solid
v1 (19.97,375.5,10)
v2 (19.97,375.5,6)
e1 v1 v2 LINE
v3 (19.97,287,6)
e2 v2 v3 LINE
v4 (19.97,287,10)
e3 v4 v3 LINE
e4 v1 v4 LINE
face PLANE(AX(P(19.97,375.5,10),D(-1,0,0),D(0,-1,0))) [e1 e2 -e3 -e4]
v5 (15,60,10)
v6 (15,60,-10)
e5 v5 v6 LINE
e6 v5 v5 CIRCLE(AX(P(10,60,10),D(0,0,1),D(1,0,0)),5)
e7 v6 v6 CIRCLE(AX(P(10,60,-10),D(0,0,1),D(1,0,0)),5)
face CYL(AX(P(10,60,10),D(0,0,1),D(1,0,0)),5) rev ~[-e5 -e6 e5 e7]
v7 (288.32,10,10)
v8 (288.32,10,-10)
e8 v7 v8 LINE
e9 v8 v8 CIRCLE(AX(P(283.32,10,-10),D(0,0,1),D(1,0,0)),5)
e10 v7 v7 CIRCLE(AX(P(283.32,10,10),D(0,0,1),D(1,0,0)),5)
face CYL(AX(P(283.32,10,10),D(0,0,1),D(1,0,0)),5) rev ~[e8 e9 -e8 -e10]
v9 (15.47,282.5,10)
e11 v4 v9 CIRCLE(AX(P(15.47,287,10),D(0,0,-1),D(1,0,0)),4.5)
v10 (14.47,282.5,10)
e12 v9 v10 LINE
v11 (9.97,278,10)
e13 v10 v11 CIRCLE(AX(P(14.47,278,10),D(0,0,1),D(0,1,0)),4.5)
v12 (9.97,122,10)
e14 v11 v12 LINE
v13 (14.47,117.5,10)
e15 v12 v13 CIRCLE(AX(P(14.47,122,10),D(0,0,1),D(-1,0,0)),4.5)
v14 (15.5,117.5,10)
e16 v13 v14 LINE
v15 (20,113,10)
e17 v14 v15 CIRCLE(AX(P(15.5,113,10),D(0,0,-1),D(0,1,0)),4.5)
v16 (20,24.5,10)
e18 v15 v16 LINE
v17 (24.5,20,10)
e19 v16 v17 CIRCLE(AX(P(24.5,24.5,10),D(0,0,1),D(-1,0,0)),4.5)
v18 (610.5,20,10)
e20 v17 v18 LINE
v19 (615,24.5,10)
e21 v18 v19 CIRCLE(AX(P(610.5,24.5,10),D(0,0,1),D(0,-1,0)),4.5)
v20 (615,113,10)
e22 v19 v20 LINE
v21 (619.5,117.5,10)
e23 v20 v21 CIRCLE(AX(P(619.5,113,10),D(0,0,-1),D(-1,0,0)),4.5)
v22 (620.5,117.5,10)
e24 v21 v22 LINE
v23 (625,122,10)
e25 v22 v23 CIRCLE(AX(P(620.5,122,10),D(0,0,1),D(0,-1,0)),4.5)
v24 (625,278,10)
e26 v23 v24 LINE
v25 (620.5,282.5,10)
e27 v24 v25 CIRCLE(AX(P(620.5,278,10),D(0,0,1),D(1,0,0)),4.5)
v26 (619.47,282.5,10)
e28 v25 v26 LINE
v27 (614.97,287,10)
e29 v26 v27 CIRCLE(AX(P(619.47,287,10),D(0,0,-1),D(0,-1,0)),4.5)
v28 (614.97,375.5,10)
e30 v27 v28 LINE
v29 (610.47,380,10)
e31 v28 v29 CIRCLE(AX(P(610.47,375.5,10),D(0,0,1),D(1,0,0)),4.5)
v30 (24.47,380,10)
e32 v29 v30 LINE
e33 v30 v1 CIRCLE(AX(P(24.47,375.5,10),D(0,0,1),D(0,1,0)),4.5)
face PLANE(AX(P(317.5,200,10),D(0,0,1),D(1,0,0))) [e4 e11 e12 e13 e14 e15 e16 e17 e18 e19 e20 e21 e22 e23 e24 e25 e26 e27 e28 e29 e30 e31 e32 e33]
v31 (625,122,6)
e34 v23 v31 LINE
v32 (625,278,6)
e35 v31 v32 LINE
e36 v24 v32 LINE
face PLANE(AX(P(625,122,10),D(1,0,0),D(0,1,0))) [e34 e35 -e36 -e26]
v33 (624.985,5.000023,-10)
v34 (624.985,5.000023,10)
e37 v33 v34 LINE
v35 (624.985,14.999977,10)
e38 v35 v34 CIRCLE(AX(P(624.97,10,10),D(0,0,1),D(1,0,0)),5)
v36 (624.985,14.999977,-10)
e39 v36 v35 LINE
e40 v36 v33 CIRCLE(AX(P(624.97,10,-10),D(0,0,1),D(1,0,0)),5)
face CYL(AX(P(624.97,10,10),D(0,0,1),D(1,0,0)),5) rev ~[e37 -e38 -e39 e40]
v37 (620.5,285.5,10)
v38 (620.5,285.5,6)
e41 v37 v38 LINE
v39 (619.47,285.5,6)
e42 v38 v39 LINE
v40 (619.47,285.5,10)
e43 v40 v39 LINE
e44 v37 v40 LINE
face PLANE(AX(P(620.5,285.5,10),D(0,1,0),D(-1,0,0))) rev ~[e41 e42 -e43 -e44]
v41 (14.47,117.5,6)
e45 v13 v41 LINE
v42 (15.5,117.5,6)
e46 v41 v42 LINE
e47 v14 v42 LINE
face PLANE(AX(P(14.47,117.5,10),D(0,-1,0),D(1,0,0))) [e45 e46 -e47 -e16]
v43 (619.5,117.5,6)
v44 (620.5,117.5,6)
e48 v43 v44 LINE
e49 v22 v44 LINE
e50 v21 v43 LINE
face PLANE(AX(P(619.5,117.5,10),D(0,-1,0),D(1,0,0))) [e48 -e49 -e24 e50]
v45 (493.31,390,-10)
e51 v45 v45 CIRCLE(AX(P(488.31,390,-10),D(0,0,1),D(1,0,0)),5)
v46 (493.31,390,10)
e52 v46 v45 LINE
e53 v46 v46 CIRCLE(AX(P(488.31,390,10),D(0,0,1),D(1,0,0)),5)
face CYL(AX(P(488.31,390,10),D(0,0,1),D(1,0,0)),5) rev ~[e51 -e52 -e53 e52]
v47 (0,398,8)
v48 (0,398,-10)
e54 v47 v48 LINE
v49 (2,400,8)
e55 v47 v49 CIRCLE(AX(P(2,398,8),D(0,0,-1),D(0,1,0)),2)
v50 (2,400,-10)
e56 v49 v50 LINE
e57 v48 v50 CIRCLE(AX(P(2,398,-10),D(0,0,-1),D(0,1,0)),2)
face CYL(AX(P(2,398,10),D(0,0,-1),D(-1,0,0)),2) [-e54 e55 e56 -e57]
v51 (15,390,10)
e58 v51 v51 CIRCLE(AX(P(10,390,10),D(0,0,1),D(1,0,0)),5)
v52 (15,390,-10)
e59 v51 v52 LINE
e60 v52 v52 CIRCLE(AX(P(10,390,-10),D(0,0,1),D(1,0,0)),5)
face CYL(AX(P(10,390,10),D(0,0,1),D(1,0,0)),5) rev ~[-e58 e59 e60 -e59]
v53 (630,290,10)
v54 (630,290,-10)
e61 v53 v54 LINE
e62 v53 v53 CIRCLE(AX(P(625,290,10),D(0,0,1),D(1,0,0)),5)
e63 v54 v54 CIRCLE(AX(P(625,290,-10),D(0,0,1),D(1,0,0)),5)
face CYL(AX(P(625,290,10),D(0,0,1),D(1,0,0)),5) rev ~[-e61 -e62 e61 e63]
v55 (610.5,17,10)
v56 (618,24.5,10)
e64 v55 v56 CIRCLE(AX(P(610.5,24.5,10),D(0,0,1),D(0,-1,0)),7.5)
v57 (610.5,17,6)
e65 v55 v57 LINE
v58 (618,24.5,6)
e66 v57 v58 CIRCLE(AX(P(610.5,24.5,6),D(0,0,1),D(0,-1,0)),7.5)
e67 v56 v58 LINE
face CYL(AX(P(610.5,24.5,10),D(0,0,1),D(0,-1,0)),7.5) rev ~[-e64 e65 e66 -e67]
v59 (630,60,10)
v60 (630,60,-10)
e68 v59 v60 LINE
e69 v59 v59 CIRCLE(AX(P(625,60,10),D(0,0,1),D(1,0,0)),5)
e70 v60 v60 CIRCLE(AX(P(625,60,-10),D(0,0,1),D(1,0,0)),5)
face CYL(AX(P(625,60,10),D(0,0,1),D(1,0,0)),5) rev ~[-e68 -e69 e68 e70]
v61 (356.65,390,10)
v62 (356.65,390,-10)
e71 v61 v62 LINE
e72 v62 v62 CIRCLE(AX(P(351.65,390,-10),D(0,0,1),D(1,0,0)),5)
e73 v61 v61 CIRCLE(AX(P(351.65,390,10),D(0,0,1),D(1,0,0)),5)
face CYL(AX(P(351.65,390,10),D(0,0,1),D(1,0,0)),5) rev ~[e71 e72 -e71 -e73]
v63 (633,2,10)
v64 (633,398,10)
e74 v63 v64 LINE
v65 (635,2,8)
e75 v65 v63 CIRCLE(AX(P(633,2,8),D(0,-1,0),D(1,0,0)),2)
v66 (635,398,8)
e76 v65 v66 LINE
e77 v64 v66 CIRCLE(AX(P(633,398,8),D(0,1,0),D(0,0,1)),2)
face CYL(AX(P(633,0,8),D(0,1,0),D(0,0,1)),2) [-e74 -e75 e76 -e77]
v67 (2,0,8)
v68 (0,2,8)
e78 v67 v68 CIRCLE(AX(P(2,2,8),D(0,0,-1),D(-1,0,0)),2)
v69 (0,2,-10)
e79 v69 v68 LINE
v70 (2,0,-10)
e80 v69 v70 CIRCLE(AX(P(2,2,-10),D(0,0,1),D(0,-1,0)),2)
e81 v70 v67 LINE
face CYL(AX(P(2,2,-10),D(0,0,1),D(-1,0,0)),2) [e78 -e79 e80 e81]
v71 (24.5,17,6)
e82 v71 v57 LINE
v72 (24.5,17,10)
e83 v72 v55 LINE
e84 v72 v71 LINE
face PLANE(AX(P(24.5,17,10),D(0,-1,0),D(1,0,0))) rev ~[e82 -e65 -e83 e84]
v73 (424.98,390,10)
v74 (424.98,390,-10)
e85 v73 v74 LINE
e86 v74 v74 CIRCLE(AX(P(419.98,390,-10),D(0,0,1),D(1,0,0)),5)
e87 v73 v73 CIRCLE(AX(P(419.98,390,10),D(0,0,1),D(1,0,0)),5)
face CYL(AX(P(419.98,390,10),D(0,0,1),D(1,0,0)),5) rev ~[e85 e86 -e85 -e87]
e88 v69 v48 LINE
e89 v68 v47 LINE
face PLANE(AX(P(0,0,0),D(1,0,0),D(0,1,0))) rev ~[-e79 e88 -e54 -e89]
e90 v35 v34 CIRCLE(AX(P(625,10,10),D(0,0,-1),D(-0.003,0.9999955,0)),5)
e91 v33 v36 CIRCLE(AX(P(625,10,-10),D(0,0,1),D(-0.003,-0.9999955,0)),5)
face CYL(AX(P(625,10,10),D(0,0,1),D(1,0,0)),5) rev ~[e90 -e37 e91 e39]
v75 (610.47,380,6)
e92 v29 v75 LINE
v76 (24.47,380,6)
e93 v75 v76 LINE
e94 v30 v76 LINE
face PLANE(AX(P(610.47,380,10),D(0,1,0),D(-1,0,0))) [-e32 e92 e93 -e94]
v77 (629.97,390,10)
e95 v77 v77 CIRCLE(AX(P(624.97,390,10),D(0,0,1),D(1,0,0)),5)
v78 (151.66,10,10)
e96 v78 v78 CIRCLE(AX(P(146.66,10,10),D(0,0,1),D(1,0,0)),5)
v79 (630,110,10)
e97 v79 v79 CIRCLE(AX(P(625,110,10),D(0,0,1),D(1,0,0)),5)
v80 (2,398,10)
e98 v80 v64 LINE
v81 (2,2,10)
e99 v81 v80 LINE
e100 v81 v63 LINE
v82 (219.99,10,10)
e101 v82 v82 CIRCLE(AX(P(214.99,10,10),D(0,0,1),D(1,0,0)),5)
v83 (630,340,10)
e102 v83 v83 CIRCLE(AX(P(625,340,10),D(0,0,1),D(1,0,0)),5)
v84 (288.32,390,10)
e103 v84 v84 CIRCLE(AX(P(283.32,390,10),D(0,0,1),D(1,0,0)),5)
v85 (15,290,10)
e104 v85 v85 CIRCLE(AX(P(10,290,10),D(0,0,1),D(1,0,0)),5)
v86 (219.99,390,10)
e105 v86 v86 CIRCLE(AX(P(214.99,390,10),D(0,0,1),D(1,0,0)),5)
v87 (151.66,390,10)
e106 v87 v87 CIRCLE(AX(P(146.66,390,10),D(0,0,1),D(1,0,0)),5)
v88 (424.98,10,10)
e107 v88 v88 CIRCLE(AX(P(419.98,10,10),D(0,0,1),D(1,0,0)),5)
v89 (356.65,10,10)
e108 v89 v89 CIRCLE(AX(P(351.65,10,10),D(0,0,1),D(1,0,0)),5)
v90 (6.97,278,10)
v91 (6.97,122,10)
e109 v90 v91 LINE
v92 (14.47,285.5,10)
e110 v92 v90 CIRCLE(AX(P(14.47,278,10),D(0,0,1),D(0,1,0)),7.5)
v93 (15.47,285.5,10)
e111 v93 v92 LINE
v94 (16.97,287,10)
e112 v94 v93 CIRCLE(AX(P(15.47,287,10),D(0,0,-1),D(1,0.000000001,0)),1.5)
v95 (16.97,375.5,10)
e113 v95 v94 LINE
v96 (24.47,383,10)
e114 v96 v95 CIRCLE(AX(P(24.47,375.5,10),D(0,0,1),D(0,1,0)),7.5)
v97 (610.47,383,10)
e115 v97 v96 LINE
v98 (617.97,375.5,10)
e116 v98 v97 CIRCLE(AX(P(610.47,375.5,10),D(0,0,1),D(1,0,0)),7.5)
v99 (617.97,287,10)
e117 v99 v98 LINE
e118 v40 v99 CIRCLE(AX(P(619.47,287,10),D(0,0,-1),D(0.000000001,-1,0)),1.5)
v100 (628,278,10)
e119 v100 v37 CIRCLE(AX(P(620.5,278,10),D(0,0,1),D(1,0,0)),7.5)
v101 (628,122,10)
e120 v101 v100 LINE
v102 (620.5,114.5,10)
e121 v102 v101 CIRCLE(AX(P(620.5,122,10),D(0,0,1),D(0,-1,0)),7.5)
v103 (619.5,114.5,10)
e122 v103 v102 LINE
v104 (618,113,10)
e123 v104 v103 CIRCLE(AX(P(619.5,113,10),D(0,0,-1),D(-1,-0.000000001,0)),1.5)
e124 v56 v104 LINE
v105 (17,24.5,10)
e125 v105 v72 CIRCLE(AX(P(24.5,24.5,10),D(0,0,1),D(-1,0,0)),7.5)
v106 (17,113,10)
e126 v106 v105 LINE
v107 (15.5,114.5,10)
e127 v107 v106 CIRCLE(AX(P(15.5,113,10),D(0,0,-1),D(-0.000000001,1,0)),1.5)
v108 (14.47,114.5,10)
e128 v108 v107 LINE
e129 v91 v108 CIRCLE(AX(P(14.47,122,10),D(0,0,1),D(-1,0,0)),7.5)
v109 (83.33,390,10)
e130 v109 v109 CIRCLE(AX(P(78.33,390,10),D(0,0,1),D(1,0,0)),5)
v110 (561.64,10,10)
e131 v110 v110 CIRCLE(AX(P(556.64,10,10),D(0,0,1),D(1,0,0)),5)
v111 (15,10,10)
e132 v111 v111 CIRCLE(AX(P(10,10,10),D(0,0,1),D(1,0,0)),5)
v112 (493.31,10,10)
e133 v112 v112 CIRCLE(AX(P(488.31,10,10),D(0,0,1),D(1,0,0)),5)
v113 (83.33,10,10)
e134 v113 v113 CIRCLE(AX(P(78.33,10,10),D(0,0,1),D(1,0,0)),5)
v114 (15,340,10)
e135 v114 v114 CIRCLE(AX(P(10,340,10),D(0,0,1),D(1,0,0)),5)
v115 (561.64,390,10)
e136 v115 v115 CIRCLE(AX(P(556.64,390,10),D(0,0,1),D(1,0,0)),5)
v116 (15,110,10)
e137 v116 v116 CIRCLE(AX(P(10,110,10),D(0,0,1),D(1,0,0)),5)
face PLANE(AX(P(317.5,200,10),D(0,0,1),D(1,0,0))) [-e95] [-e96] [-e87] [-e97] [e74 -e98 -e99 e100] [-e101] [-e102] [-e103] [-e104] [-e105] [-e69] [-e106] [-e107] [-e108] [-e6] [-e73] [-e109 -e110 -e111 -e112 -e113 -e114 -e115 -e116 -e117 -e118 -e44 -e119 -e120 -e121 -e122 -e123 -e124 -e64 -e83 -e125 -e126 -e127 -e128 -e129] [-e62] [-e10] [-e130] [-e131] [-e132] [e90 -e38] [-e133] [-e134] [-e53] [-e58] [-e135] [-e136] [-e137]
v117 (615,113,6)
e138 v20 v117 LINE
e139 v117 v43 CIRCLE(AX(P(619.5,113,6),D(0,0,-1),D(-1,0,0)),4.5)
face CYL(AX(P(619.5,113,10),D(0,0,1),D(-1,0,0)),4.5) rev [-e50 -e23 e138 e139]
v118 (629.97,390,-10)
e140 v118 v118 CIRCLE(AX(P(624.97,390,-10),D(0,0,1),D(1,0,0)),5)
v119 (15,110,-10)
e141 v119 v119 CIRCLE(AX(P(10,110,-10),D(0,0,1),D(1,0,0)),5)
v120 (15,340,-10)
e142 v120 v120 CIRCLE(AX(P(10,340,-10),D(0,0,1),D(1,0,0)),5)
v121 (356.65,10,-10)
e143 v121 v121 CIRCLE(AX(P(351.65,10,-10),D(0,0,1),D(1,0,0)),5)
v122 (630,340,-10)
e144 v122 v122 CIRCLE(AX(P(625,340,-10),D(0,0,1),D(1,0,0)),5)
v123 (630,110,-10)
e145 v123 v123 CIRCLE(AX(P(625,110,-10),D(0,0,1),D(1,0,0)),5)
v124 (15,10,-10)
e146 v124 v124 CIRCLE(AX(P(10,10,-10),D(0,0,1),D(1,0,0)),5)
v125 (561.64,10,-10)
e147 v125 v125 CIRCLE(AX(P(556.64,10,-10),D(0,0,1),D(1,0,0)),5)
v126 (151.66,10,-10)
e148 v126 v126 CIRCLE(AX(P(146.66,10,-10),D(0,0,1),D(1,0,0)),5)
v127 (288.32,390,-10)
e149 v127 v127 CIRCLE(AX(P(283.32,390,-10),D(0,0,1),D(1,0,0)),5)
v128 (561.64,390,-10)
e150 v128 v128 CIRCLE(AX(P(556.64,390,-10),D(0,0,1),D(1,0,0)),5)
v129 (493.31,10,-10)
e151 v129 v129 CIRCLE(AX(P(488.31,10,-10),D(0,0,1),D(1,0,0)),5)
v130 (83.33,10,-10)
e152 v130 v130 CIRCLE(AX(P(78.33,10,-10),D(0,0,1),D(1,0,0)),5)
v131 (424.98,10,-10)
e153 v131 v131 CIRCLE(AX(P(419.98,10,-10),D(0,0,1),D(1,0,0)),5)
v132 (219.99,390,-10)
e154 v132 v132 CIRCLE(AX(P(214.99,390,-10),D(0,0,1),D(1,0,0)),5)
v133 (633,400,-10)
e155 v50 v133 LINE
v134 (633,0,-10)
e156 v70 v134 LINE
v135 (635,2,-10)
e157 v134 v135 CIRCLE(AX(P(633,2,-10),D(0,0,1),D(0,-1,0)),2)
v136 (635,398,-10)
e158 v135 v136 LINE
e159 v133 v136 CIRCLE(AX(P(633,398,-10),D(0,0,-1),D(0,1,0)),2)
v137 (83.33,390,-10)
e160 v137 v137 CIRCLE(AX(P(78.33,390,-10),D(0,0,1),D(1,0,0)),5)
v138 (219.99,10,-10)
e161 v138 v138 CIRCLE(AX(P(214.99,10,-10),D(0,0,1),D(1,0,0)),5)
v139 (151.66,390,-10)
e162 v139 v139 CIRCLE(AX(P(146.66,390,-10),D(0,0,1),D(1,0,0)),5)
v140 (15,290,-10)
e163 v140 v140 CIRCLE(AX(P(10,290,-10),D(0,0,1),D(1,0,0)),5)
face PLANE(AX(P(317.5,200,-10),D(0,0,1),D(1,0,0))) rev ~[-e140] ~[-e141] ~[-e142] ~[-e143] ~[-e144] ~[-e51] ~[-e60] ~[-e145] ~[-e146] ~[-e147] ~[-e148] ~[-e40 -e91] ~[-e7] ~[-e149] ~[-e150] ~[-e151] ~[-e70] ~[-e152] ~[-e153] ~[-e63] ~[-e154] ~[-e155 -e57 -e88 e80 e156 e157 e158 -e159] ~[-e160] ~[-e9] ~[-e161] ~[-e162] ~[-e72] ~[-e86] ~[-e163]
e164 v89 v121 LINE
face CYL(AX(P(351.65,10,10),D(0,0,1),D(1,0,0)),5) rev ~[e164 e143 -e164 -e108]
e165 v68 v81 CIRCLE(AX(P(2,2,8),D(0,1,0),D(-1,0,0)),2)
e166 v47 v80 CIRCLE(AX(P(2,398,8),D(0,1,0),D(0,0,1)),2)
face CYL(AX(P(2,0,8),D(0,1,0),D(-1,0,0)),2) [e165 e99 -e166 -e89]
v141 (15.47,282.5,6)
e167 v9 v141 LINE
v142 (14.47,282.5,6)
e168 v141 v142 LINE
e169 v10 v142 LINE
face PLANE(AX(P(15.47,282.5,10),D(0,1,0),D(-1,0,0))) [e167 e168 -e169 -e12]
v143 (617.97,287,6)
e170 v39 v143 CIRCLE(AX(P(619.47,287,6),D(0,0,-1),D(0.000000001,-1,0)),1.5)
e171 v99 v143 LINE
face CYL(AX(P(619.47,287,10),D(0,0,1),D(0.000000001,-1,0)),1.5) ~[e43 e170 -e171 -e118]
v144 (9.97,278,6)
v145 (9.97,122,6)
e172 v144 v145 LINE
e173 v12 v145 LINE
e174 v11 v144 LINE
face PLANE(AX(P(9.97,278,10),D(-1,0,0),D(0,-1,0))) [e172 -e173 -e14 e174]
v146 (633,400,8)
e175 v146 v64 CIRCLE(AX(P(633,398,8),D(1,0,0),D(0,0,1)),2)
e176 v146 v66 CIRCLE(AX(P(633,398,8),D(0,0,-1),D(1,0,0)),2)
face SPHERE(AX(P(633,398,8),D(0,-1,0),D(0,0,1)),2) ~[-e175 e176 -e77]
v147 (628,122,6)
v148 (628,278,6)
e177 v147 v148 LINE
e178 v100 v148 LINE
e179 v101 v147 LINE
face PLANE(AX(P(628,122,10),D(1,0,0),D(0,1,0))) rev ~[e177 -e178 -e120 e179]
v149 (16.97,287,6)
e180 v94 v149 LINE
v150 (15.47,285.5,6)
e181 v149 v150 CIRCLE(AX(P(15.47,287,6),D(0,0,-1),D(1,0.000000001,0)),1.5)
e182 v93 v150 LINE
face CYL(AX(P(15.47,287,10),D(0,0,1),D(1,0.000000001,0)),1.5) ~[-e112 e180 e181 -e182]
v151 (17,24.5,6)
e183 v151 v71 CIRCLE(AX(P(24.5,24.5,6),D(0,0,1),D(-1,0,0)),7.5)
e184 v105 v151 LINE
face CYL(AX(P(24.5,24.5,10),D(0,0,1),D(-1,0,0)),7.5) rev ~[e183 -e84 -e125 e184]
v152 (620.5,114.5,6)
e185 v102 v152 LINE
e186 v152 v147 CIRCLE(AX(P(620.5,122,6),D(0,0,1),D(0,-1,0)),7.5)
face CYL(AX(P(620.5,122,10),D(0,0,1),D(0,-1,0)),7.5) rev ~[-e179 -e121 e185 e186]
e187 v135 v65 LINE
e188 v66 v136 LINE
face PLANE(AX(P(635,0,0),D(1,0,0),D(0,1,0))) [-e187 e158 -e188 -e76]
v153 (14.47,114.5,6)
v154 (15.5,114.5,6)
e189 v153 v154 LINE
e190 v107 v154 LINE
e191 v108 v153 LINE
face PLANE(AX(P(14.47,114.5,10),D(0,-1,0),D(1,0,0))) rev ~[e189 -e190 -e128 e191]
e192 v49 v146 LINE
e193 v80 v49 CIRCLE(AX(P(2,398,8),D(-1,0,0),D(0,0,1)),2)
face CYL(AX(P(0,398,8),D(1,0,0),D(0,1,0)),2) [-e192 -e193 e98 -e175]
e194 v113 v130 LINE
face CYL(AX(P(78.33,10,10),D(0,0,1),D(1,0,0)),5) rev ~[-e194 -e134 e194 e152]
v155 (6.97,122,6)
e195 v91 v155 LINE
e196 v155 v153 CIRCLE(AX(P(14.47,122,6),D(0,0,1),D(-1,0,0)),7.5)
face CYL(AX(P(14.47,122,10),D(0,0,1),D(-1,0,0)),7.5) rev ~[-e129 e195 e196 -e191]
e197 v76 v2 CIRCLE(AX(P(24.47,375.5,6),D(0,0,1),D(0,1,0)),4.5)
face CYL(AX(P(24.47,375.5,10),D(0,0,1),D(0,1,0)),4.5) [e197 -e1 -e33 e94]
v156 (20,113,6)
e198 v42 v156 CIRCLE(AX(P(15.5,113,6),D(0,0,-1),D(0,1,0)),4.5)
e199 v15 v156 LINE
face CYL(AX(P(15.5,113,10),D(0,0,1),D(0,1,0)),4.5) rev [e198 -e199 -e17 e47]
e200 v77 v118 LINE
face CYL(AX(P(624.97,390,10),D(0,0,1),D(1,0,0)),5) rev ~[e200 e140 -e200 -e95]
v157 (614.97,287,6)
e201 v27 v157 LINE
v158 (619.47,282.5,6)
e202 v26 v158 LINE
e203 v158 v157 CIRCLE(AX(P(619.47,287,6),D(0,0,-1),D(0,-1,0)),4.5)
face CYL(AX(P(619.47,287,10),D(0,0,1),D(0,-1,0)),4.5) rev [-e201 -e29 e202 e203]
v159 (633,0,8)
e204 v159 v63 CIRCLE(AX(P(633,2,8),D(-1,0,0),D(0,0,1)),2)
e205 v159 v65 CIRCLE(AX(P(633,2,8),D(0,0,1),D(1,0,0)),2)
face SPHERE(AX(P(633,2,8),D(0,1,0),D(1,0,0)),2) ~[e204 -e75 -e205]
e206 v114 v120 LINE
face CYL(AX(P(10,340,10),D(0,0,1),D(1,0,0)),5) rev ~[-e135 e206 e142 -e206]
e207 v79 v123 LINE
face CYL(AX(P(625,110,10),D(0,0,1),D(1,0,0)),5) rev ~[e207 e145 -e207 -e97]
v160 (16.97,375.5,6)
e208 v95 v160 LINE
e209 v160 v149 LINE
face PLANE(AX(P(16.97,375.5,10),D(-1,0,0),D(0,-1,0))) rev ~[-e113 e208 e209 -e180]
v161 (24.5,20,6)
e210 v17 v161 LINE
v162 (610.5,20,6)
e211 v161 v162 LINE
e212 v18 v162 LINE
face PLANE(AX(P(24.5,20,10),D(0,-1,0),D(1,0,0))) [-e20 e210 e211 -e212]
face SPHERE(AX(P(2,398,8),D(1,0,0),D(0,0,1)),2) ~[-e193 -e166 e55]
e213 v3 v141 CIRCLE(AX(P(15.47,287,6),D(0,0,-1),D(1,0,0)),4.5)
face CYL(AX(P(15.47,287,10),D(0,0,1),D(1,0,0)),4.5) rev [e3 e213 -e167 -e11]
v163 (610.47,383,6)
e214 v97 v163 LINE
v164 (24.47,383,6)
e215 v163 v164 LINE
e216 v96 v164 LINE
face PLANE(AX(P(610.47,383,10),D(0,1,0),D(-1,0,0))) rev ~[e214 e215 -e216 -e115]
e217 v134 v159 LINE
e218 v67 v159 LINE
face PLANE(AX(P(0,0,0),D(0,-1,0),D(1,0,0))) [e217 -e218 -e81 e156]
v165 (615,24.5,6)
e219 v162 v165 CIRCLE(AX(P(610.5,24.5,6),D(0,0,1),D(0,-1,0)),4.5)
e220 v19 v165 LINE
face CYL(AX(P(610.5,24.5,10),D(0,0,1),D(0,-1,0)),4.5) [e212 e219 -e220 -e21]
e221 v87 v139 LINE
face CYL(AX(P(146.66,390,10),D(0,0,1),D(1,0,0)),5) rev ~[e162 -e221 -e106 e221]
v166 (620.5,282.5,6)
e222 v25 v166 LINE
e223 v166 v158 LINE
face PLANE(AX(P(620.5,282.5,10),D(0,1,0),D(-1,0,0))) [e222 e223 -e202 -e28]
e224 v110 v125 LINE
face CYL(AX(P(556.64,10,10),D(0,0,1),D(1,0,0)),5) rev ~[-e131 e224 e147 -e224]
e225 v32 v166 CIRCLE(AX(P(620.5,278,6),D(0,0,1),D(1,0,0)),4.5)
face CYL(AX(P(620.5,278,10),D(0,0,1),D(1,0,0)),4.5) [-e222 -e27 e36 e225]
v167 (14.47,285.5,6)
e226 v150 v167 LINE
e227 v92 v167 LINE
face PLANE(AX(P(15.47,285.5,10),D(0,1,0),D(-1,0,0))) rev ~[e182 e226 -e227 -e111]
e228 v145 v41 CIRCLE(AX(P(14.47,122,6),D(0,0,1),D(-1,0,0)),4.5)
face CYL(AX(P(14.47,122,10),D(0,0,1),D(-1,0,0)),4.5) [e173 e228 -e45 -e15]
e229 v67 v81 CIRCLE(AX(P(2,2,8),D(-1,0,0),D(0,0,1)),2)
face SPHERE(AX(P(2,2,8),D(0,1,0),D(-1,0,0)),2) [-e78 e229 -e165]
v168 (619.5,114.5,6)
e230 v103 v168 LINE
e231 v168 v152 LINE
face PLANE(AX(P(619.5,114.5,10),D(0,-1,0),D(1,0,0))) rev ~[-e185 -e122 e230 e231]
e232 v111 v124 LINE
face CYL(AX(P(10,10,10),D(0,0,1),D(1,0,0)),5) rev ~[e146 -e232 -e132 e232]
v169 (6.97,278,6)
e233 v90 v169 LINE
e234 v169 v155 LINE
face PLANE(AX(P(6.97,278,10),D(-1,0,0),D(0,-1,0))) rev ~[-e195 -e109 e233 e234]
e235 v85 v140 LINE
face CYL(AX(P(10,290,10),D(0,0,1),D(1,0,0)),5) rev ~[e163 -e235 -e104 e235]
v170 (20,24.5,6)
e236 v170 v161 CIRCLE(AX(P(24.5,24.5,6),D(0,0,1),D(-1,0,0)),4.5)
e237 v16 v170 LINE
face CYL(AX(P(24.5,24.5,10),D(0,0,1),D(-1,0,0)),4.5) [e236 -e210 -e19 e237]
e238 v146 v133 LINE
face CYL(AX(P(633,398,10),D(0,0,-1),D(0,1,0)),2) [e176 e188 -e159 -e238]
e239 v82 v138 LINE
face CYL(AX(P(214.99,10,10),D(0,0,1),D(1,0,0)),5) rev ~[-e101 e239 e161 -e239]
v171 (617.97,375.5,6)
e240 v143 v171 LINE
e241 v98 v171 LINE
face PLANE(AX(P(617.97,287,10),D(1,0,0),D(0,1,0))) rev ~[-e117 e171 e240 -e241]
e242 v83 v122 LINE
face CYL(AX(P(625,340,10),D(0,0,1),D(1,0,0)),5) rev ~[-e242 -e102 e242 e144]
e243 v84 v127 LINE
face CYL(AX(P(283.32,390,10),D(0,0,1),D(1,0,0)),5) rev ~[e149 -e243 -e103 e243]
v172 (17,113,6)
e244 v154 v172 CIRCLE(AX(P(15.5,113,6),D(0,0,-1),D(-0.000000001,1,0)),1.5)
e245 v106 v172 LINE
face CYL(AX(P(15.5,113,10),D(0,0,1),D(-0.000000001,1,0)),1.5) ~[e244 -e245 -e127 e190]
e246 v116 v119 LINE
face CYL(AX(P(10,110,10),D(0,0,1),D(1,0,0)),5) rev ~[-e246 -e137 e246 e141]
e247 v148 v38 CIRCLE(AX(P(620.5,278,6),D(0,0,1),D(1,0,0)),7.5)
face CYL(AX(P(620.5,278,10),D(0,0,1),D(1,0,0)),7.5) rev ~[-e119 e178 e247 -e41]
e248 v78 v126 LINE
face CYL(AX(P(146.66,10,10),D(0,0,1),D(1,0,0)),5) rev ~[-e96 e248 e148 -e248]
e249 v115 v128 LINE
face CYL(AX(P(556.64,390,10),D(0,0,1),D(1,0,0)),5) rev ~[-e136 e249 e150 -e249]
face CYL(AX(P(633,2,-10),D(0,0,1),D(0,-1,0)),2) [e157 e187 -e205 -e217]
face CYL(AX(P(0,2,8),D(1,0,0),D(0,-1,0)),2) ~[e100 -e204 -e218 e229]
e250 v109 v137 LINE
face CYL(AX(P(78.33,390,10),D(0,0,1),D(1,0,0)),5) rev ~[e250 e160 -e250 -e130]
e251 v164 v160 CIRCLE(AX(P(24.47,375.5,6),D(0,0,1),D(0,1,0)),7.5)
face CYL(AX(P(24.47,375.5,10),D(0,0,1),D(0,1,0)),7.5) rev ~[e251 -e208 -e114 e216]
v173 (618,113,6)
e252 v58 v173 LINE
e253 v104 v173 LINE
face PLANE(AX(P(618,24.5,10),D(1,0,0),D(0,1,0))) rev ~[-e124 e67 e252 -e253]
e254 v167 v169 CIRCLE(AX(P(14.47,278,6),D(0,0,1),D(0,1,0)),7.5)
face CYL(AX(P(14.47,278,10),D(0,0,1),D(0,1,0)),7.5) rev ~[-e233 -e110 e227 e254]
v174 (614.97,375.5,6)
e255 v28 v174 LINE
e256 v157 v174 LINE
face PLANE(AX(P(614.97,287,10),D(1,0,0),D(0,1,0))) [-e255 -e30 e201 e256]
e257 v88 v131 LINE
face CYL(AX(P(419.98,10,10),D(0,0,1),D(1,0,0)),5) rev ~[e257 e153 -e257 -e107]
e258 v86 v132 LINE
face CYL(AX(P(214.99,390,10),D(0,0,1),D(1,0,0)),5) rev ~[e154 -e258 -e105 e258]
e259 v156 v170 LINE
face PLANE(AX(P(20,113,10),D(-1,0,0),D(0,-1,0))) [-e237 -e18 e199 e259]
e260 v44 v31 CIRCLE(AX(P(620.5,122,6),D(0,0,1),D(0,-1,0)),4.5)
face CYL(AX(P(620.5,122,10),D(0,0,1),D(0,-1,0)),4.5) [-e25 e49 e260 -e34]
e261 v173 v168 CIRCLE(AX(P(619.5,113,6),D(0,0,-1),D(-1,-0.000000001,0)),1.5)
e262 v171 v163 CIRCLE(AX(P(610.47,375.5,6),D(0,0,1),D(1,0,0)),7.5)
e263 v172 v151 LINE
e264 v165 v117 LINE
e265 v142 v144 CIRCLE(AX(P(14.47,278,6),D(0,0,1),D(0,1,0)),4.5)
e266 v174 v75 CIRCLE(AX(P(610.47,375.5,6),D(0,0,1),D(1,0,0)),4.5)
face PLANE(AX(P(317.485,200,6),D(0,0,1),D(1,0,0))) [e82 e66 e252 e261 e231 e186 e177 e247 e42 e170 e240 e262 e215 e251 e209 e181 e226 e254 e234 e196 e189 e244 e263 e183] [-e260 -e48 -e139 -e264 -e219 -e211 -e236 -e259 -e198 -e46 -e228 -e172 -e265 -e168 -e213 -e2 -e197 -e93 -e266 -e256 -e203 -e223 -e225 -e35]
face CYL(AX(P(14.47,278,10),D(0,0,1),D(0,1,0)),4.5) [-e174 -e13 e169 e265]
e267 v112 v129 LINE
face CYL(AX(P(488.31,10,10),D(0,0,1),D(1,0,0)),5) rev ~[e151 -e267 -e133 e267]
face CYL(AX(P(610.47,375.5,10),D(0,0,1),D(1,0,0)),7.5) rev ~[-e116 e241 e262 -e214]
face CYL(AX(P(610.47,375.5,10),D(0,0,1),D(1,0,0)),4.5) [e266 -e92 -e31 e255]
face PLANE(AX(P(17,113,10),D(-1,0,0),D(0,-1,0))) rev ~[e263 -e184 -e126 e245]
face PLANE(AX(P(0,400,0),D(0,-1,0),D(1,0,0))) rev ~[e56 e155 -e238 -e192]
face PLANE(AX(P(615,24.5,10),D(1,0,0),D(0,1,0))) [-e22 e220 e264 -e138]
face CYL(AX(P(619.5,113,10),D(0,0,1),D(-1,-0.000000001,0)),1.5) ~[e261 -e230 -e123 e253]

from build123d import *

# Parameters (mm, degrees)
SKETCH2_W            = 635
SKETCH2_H            = 400
BOSS_EXTRUDE1_DEPTH  = 10
SKETCH4_R            = 5
CUT_EXTRUDE1_DEPTH   = 20
LPATTERN1_COUNT      = 10
LPATTERN1_PITCH      = 68.33
LPATTERN1_COUNT_DIR2 = 2
LPATTERN1_PITCH_DIR2 = 380
LPATTERN3_COUNT      = 3
LPATTERN3_PITCH      = 50
LPATTERN3_COUNT_DIR2 = 2
LPATTERN3_PITCH_DIR2 = 615
LPATTERN4_COUNT      = 2
LPATTERN4_PITCH      = 330
SKETCH7_R            = 5
CUT_EXTRUDE5_DEPTH   = 20
LPATTERN7_COUNT      = 2
LPATTERN7_PITCH      = 615
LPATTERN7_COUNT_DIR2 = 2
LPATTERN7_PITCH_DIR2 = 50
CUT_EXTRUDE6_DEPTH   = 4
FILLET1_R            = 2


with BuildPart() as part:
    # Sketch2 → Boss-Extrude1 (new body, symmetric)
    with BuildSketch(Plane.XY):
        with Locations((317.5, 200)):
            Rectangle(SKETCH2_W, SKETCH2_H)
    extrude(amount=BOSS_EXTRUDE1_DEPTH, both=True)

    # Sketch4 → Cut-Extrude1 (cut)
    with BuildSketch(Plane.XY.offset(10)):
        with Locations((10, 10)):
            Circle(SKETCH4_R)
    cut_extrude1 = extrude(amount=-CUT_EXTRUDE1_DEPTH, mode=Mode.SUBTRACT)

    # LPattern1: Cut-Extrude1 10 × 2
    with Locations(*[(i * LPATTERN1_PITCH, j * LPATTERN1_PITCH_DIR2, 0) for i in range(LPATTERN1_COUNT) for j in range(LPATTERN1_COUNT_DIR2) if (i, j) != (0, 0)]):
        add(cut_extrude1, mode=Mode.SUBTRACT)

    # LPattern3: Cut-Extrude1 3 × 2
    with Locations(*[(j * LPATTERN3_PITCH_DIR2, i * LPATTERN3_PITCH, 0) for i in range(LPATTERN3_COUNT) for j in range(LPATTERN3_COUNT_DIR2) if (i, j) != (0, 0)]):
        add(cut_extrude1, mode=Mode.SUBTRACT)

    # LPattern4: Cut-Extrude1 ×2
    with Locations(*[(0, i * LPATTERN4_PITCH, 0) for i in range(1, LPATTERN4_COUNT)]):
        add(cut_extrude1, mode=Mode.SUBTRACT)

    # Sketch7 → Cut-Extrude5 (cut)
    with BuildSketch(Plane.XY.offset(10)):
        with Locations((625, 340)):
            Circle(SKETCH7_R)
    cut_extrude5 = extrude(amount=-CUT_EXTRUDE5_DEPTH, mode=Mode.SUBTRACT)

    # LPattern7: Cut-Extrude5 2 × 2
    with Locations(*[(-i * LPATTERN7_PITCH, -j * LPATTERN7_PITCH_DIR2, 0) for i in range(LPATTERN7_COUNT) for j in range(LPATTERN7_COUNT_DIR2) if (i, j) != (0, 0)]):
        add(cut_extrude5, mode=Mode.SUBTRACT)

    # Sketch8 → Cut-Extrude6 (cut)
    with BuildSketch(Plane.XY.offset(10)):
        with BuildLine():
            Line((16.97, 375.5), (16.97, 287))
            ThreePointArc((16.97, 287), (16.530660172, 285.939339828), (15.47, 285.5))
            Line((15.47, 285.5), (14.47, 285.5))
            ThreePointArc((14.47, 285.5), (9.166699141, 283.303300859), (6.97, 278))
            Line((6.97, 278), (6.97, 122))
            ThreePointArc((6.97, 122), (9.166699141, 116.696699141), (14.47, 114.5))
            Line((14.47, 114.5), (15.5, 114.5))
            ThreePointArc((15.5, 114.5), (16.560660172, 114.060660172), (17, 113))
            Line((17, 113), (17, 24.5))
            ThreePointArc((17, 24.5), (19.196699141, 19.196699141), (24.5, 17))
            Line((24.5, 17), (610.5, 17))
            ThreePointArc((610.5, 17), (615.803300859, 19.196699141), (618, 24.5))
            Line((618, 24.5), (618, 113))
            ThreePointArc((618, 113), (618.439339828, 114.060660172), (619.5, 114.5))
            Line((619.5, 114.5), (620.5, 114.5))
            ThreePointArc((620.5, 114.5), (625.803300859, 116.696699141), (628, 122))
            Line((628, 122), (628, 278))
            ThreePointArc((628, 278), (625.803300859, 283.303300859), (620.5, 285.5))
            Line((620.5, 285.5), (619.47, 285.5))
            ThreePointArc((619.47, 285.5), (618.409339828, 285.939339828), (617.97, 287))
            Line((617.97, 287), (617.97, 375.5))
            ThreePointArc((617.97, 375.5), (615.773300859, 380.803300859), (610.47, 383))
            Line((610.47, 383), (24.47, 383))
            ThreePointArc((24.47, 383), (19.166699141, 380.803300859), (16.97, 375.5))
        make_face()
        with BuildLine():
            Line((20, 113), (20, 24.5))
            ThreePointArc((20, 24.5), (21.318019485, 21.318019485), (24.5, 20))
            Line((24.5, 20), (610.5, 20))
            ThreePointArc((610.5, 20), (613.681980515, 21.318019485), (615, 24.5))
            Line((615, 24.5), (615, 113))
            ThreePointArc((615, 113), (616.318019485, 116.181980515), (619.5, 117.5))
            Line((619.5, 117.5), (620.5, 117.5))
            ThreePointArc((620.5, 117.5), (623.681980515, 118.818019485), (625, 122))
            Line((625, 122), (625, 278))
            ThreePointArc((625, 278), (623.681980515, 281.181980515), (620.5, 282.5))
            Line((620.5, 282.5), (619.47, 282.5))
            ThreePointArc((619.47, 282.5), (616.288019485, 283.818019485), (614.97, 287))
            Line((614.97, 287), (614.97, 375.5))
            ThreePointArc((614.97, 375.5), (613.651980515, 378.681980515), (610.47, 380))
            Line((610.47, 380), (24.47, 380))
            ThreePointArc((24.47, 380), (21.288019485, 378.681980515), (19.97, 375.5))
            Line((19.97, 375.5), (19.97, 287))
            ThreePointArc((19.97, 287), (18.651980515, 283.818019485), (15.47, 282.5))
            Line((15.47, 282.5), (14.47, 282.5))
            ThreePointArc((14.47, 282.5), (11.288019485, 281.181980515), (9.97, 278))
            Line((9.97, 278), (9.97, 122))
            ThreePointArc((9.97, 122), (11.288019485, 118.818019485), (14.47, 117.5))
            Line((14.47, 117.5), (15.5, 117.5))
            ThreePointArc((15.5, 117.5), (18.681980515, 116.181980515), (20, 113))
        make_face(mode=Mode.SUBTRACT)
    extrude(amount=-CUT_EXTRUDE6_DEPTH, mode=Mode.SUBTRACT)

    # Fillet1
    fillet1_edges = [part.edges().sort_by_distance(p)[0] for p in [
        (635, 200, 10),
        (317.5, 400, 10),
        (0, 200, 10),
        (0, 400, 0),
        (635, 400, 0),
        (635, 0, 0),
        (0, 0, 0),
        (317.5, 0, 10),
    ]]
    fillet(fillet1_edges, radius=FILLET1_R)


solid = part.part
